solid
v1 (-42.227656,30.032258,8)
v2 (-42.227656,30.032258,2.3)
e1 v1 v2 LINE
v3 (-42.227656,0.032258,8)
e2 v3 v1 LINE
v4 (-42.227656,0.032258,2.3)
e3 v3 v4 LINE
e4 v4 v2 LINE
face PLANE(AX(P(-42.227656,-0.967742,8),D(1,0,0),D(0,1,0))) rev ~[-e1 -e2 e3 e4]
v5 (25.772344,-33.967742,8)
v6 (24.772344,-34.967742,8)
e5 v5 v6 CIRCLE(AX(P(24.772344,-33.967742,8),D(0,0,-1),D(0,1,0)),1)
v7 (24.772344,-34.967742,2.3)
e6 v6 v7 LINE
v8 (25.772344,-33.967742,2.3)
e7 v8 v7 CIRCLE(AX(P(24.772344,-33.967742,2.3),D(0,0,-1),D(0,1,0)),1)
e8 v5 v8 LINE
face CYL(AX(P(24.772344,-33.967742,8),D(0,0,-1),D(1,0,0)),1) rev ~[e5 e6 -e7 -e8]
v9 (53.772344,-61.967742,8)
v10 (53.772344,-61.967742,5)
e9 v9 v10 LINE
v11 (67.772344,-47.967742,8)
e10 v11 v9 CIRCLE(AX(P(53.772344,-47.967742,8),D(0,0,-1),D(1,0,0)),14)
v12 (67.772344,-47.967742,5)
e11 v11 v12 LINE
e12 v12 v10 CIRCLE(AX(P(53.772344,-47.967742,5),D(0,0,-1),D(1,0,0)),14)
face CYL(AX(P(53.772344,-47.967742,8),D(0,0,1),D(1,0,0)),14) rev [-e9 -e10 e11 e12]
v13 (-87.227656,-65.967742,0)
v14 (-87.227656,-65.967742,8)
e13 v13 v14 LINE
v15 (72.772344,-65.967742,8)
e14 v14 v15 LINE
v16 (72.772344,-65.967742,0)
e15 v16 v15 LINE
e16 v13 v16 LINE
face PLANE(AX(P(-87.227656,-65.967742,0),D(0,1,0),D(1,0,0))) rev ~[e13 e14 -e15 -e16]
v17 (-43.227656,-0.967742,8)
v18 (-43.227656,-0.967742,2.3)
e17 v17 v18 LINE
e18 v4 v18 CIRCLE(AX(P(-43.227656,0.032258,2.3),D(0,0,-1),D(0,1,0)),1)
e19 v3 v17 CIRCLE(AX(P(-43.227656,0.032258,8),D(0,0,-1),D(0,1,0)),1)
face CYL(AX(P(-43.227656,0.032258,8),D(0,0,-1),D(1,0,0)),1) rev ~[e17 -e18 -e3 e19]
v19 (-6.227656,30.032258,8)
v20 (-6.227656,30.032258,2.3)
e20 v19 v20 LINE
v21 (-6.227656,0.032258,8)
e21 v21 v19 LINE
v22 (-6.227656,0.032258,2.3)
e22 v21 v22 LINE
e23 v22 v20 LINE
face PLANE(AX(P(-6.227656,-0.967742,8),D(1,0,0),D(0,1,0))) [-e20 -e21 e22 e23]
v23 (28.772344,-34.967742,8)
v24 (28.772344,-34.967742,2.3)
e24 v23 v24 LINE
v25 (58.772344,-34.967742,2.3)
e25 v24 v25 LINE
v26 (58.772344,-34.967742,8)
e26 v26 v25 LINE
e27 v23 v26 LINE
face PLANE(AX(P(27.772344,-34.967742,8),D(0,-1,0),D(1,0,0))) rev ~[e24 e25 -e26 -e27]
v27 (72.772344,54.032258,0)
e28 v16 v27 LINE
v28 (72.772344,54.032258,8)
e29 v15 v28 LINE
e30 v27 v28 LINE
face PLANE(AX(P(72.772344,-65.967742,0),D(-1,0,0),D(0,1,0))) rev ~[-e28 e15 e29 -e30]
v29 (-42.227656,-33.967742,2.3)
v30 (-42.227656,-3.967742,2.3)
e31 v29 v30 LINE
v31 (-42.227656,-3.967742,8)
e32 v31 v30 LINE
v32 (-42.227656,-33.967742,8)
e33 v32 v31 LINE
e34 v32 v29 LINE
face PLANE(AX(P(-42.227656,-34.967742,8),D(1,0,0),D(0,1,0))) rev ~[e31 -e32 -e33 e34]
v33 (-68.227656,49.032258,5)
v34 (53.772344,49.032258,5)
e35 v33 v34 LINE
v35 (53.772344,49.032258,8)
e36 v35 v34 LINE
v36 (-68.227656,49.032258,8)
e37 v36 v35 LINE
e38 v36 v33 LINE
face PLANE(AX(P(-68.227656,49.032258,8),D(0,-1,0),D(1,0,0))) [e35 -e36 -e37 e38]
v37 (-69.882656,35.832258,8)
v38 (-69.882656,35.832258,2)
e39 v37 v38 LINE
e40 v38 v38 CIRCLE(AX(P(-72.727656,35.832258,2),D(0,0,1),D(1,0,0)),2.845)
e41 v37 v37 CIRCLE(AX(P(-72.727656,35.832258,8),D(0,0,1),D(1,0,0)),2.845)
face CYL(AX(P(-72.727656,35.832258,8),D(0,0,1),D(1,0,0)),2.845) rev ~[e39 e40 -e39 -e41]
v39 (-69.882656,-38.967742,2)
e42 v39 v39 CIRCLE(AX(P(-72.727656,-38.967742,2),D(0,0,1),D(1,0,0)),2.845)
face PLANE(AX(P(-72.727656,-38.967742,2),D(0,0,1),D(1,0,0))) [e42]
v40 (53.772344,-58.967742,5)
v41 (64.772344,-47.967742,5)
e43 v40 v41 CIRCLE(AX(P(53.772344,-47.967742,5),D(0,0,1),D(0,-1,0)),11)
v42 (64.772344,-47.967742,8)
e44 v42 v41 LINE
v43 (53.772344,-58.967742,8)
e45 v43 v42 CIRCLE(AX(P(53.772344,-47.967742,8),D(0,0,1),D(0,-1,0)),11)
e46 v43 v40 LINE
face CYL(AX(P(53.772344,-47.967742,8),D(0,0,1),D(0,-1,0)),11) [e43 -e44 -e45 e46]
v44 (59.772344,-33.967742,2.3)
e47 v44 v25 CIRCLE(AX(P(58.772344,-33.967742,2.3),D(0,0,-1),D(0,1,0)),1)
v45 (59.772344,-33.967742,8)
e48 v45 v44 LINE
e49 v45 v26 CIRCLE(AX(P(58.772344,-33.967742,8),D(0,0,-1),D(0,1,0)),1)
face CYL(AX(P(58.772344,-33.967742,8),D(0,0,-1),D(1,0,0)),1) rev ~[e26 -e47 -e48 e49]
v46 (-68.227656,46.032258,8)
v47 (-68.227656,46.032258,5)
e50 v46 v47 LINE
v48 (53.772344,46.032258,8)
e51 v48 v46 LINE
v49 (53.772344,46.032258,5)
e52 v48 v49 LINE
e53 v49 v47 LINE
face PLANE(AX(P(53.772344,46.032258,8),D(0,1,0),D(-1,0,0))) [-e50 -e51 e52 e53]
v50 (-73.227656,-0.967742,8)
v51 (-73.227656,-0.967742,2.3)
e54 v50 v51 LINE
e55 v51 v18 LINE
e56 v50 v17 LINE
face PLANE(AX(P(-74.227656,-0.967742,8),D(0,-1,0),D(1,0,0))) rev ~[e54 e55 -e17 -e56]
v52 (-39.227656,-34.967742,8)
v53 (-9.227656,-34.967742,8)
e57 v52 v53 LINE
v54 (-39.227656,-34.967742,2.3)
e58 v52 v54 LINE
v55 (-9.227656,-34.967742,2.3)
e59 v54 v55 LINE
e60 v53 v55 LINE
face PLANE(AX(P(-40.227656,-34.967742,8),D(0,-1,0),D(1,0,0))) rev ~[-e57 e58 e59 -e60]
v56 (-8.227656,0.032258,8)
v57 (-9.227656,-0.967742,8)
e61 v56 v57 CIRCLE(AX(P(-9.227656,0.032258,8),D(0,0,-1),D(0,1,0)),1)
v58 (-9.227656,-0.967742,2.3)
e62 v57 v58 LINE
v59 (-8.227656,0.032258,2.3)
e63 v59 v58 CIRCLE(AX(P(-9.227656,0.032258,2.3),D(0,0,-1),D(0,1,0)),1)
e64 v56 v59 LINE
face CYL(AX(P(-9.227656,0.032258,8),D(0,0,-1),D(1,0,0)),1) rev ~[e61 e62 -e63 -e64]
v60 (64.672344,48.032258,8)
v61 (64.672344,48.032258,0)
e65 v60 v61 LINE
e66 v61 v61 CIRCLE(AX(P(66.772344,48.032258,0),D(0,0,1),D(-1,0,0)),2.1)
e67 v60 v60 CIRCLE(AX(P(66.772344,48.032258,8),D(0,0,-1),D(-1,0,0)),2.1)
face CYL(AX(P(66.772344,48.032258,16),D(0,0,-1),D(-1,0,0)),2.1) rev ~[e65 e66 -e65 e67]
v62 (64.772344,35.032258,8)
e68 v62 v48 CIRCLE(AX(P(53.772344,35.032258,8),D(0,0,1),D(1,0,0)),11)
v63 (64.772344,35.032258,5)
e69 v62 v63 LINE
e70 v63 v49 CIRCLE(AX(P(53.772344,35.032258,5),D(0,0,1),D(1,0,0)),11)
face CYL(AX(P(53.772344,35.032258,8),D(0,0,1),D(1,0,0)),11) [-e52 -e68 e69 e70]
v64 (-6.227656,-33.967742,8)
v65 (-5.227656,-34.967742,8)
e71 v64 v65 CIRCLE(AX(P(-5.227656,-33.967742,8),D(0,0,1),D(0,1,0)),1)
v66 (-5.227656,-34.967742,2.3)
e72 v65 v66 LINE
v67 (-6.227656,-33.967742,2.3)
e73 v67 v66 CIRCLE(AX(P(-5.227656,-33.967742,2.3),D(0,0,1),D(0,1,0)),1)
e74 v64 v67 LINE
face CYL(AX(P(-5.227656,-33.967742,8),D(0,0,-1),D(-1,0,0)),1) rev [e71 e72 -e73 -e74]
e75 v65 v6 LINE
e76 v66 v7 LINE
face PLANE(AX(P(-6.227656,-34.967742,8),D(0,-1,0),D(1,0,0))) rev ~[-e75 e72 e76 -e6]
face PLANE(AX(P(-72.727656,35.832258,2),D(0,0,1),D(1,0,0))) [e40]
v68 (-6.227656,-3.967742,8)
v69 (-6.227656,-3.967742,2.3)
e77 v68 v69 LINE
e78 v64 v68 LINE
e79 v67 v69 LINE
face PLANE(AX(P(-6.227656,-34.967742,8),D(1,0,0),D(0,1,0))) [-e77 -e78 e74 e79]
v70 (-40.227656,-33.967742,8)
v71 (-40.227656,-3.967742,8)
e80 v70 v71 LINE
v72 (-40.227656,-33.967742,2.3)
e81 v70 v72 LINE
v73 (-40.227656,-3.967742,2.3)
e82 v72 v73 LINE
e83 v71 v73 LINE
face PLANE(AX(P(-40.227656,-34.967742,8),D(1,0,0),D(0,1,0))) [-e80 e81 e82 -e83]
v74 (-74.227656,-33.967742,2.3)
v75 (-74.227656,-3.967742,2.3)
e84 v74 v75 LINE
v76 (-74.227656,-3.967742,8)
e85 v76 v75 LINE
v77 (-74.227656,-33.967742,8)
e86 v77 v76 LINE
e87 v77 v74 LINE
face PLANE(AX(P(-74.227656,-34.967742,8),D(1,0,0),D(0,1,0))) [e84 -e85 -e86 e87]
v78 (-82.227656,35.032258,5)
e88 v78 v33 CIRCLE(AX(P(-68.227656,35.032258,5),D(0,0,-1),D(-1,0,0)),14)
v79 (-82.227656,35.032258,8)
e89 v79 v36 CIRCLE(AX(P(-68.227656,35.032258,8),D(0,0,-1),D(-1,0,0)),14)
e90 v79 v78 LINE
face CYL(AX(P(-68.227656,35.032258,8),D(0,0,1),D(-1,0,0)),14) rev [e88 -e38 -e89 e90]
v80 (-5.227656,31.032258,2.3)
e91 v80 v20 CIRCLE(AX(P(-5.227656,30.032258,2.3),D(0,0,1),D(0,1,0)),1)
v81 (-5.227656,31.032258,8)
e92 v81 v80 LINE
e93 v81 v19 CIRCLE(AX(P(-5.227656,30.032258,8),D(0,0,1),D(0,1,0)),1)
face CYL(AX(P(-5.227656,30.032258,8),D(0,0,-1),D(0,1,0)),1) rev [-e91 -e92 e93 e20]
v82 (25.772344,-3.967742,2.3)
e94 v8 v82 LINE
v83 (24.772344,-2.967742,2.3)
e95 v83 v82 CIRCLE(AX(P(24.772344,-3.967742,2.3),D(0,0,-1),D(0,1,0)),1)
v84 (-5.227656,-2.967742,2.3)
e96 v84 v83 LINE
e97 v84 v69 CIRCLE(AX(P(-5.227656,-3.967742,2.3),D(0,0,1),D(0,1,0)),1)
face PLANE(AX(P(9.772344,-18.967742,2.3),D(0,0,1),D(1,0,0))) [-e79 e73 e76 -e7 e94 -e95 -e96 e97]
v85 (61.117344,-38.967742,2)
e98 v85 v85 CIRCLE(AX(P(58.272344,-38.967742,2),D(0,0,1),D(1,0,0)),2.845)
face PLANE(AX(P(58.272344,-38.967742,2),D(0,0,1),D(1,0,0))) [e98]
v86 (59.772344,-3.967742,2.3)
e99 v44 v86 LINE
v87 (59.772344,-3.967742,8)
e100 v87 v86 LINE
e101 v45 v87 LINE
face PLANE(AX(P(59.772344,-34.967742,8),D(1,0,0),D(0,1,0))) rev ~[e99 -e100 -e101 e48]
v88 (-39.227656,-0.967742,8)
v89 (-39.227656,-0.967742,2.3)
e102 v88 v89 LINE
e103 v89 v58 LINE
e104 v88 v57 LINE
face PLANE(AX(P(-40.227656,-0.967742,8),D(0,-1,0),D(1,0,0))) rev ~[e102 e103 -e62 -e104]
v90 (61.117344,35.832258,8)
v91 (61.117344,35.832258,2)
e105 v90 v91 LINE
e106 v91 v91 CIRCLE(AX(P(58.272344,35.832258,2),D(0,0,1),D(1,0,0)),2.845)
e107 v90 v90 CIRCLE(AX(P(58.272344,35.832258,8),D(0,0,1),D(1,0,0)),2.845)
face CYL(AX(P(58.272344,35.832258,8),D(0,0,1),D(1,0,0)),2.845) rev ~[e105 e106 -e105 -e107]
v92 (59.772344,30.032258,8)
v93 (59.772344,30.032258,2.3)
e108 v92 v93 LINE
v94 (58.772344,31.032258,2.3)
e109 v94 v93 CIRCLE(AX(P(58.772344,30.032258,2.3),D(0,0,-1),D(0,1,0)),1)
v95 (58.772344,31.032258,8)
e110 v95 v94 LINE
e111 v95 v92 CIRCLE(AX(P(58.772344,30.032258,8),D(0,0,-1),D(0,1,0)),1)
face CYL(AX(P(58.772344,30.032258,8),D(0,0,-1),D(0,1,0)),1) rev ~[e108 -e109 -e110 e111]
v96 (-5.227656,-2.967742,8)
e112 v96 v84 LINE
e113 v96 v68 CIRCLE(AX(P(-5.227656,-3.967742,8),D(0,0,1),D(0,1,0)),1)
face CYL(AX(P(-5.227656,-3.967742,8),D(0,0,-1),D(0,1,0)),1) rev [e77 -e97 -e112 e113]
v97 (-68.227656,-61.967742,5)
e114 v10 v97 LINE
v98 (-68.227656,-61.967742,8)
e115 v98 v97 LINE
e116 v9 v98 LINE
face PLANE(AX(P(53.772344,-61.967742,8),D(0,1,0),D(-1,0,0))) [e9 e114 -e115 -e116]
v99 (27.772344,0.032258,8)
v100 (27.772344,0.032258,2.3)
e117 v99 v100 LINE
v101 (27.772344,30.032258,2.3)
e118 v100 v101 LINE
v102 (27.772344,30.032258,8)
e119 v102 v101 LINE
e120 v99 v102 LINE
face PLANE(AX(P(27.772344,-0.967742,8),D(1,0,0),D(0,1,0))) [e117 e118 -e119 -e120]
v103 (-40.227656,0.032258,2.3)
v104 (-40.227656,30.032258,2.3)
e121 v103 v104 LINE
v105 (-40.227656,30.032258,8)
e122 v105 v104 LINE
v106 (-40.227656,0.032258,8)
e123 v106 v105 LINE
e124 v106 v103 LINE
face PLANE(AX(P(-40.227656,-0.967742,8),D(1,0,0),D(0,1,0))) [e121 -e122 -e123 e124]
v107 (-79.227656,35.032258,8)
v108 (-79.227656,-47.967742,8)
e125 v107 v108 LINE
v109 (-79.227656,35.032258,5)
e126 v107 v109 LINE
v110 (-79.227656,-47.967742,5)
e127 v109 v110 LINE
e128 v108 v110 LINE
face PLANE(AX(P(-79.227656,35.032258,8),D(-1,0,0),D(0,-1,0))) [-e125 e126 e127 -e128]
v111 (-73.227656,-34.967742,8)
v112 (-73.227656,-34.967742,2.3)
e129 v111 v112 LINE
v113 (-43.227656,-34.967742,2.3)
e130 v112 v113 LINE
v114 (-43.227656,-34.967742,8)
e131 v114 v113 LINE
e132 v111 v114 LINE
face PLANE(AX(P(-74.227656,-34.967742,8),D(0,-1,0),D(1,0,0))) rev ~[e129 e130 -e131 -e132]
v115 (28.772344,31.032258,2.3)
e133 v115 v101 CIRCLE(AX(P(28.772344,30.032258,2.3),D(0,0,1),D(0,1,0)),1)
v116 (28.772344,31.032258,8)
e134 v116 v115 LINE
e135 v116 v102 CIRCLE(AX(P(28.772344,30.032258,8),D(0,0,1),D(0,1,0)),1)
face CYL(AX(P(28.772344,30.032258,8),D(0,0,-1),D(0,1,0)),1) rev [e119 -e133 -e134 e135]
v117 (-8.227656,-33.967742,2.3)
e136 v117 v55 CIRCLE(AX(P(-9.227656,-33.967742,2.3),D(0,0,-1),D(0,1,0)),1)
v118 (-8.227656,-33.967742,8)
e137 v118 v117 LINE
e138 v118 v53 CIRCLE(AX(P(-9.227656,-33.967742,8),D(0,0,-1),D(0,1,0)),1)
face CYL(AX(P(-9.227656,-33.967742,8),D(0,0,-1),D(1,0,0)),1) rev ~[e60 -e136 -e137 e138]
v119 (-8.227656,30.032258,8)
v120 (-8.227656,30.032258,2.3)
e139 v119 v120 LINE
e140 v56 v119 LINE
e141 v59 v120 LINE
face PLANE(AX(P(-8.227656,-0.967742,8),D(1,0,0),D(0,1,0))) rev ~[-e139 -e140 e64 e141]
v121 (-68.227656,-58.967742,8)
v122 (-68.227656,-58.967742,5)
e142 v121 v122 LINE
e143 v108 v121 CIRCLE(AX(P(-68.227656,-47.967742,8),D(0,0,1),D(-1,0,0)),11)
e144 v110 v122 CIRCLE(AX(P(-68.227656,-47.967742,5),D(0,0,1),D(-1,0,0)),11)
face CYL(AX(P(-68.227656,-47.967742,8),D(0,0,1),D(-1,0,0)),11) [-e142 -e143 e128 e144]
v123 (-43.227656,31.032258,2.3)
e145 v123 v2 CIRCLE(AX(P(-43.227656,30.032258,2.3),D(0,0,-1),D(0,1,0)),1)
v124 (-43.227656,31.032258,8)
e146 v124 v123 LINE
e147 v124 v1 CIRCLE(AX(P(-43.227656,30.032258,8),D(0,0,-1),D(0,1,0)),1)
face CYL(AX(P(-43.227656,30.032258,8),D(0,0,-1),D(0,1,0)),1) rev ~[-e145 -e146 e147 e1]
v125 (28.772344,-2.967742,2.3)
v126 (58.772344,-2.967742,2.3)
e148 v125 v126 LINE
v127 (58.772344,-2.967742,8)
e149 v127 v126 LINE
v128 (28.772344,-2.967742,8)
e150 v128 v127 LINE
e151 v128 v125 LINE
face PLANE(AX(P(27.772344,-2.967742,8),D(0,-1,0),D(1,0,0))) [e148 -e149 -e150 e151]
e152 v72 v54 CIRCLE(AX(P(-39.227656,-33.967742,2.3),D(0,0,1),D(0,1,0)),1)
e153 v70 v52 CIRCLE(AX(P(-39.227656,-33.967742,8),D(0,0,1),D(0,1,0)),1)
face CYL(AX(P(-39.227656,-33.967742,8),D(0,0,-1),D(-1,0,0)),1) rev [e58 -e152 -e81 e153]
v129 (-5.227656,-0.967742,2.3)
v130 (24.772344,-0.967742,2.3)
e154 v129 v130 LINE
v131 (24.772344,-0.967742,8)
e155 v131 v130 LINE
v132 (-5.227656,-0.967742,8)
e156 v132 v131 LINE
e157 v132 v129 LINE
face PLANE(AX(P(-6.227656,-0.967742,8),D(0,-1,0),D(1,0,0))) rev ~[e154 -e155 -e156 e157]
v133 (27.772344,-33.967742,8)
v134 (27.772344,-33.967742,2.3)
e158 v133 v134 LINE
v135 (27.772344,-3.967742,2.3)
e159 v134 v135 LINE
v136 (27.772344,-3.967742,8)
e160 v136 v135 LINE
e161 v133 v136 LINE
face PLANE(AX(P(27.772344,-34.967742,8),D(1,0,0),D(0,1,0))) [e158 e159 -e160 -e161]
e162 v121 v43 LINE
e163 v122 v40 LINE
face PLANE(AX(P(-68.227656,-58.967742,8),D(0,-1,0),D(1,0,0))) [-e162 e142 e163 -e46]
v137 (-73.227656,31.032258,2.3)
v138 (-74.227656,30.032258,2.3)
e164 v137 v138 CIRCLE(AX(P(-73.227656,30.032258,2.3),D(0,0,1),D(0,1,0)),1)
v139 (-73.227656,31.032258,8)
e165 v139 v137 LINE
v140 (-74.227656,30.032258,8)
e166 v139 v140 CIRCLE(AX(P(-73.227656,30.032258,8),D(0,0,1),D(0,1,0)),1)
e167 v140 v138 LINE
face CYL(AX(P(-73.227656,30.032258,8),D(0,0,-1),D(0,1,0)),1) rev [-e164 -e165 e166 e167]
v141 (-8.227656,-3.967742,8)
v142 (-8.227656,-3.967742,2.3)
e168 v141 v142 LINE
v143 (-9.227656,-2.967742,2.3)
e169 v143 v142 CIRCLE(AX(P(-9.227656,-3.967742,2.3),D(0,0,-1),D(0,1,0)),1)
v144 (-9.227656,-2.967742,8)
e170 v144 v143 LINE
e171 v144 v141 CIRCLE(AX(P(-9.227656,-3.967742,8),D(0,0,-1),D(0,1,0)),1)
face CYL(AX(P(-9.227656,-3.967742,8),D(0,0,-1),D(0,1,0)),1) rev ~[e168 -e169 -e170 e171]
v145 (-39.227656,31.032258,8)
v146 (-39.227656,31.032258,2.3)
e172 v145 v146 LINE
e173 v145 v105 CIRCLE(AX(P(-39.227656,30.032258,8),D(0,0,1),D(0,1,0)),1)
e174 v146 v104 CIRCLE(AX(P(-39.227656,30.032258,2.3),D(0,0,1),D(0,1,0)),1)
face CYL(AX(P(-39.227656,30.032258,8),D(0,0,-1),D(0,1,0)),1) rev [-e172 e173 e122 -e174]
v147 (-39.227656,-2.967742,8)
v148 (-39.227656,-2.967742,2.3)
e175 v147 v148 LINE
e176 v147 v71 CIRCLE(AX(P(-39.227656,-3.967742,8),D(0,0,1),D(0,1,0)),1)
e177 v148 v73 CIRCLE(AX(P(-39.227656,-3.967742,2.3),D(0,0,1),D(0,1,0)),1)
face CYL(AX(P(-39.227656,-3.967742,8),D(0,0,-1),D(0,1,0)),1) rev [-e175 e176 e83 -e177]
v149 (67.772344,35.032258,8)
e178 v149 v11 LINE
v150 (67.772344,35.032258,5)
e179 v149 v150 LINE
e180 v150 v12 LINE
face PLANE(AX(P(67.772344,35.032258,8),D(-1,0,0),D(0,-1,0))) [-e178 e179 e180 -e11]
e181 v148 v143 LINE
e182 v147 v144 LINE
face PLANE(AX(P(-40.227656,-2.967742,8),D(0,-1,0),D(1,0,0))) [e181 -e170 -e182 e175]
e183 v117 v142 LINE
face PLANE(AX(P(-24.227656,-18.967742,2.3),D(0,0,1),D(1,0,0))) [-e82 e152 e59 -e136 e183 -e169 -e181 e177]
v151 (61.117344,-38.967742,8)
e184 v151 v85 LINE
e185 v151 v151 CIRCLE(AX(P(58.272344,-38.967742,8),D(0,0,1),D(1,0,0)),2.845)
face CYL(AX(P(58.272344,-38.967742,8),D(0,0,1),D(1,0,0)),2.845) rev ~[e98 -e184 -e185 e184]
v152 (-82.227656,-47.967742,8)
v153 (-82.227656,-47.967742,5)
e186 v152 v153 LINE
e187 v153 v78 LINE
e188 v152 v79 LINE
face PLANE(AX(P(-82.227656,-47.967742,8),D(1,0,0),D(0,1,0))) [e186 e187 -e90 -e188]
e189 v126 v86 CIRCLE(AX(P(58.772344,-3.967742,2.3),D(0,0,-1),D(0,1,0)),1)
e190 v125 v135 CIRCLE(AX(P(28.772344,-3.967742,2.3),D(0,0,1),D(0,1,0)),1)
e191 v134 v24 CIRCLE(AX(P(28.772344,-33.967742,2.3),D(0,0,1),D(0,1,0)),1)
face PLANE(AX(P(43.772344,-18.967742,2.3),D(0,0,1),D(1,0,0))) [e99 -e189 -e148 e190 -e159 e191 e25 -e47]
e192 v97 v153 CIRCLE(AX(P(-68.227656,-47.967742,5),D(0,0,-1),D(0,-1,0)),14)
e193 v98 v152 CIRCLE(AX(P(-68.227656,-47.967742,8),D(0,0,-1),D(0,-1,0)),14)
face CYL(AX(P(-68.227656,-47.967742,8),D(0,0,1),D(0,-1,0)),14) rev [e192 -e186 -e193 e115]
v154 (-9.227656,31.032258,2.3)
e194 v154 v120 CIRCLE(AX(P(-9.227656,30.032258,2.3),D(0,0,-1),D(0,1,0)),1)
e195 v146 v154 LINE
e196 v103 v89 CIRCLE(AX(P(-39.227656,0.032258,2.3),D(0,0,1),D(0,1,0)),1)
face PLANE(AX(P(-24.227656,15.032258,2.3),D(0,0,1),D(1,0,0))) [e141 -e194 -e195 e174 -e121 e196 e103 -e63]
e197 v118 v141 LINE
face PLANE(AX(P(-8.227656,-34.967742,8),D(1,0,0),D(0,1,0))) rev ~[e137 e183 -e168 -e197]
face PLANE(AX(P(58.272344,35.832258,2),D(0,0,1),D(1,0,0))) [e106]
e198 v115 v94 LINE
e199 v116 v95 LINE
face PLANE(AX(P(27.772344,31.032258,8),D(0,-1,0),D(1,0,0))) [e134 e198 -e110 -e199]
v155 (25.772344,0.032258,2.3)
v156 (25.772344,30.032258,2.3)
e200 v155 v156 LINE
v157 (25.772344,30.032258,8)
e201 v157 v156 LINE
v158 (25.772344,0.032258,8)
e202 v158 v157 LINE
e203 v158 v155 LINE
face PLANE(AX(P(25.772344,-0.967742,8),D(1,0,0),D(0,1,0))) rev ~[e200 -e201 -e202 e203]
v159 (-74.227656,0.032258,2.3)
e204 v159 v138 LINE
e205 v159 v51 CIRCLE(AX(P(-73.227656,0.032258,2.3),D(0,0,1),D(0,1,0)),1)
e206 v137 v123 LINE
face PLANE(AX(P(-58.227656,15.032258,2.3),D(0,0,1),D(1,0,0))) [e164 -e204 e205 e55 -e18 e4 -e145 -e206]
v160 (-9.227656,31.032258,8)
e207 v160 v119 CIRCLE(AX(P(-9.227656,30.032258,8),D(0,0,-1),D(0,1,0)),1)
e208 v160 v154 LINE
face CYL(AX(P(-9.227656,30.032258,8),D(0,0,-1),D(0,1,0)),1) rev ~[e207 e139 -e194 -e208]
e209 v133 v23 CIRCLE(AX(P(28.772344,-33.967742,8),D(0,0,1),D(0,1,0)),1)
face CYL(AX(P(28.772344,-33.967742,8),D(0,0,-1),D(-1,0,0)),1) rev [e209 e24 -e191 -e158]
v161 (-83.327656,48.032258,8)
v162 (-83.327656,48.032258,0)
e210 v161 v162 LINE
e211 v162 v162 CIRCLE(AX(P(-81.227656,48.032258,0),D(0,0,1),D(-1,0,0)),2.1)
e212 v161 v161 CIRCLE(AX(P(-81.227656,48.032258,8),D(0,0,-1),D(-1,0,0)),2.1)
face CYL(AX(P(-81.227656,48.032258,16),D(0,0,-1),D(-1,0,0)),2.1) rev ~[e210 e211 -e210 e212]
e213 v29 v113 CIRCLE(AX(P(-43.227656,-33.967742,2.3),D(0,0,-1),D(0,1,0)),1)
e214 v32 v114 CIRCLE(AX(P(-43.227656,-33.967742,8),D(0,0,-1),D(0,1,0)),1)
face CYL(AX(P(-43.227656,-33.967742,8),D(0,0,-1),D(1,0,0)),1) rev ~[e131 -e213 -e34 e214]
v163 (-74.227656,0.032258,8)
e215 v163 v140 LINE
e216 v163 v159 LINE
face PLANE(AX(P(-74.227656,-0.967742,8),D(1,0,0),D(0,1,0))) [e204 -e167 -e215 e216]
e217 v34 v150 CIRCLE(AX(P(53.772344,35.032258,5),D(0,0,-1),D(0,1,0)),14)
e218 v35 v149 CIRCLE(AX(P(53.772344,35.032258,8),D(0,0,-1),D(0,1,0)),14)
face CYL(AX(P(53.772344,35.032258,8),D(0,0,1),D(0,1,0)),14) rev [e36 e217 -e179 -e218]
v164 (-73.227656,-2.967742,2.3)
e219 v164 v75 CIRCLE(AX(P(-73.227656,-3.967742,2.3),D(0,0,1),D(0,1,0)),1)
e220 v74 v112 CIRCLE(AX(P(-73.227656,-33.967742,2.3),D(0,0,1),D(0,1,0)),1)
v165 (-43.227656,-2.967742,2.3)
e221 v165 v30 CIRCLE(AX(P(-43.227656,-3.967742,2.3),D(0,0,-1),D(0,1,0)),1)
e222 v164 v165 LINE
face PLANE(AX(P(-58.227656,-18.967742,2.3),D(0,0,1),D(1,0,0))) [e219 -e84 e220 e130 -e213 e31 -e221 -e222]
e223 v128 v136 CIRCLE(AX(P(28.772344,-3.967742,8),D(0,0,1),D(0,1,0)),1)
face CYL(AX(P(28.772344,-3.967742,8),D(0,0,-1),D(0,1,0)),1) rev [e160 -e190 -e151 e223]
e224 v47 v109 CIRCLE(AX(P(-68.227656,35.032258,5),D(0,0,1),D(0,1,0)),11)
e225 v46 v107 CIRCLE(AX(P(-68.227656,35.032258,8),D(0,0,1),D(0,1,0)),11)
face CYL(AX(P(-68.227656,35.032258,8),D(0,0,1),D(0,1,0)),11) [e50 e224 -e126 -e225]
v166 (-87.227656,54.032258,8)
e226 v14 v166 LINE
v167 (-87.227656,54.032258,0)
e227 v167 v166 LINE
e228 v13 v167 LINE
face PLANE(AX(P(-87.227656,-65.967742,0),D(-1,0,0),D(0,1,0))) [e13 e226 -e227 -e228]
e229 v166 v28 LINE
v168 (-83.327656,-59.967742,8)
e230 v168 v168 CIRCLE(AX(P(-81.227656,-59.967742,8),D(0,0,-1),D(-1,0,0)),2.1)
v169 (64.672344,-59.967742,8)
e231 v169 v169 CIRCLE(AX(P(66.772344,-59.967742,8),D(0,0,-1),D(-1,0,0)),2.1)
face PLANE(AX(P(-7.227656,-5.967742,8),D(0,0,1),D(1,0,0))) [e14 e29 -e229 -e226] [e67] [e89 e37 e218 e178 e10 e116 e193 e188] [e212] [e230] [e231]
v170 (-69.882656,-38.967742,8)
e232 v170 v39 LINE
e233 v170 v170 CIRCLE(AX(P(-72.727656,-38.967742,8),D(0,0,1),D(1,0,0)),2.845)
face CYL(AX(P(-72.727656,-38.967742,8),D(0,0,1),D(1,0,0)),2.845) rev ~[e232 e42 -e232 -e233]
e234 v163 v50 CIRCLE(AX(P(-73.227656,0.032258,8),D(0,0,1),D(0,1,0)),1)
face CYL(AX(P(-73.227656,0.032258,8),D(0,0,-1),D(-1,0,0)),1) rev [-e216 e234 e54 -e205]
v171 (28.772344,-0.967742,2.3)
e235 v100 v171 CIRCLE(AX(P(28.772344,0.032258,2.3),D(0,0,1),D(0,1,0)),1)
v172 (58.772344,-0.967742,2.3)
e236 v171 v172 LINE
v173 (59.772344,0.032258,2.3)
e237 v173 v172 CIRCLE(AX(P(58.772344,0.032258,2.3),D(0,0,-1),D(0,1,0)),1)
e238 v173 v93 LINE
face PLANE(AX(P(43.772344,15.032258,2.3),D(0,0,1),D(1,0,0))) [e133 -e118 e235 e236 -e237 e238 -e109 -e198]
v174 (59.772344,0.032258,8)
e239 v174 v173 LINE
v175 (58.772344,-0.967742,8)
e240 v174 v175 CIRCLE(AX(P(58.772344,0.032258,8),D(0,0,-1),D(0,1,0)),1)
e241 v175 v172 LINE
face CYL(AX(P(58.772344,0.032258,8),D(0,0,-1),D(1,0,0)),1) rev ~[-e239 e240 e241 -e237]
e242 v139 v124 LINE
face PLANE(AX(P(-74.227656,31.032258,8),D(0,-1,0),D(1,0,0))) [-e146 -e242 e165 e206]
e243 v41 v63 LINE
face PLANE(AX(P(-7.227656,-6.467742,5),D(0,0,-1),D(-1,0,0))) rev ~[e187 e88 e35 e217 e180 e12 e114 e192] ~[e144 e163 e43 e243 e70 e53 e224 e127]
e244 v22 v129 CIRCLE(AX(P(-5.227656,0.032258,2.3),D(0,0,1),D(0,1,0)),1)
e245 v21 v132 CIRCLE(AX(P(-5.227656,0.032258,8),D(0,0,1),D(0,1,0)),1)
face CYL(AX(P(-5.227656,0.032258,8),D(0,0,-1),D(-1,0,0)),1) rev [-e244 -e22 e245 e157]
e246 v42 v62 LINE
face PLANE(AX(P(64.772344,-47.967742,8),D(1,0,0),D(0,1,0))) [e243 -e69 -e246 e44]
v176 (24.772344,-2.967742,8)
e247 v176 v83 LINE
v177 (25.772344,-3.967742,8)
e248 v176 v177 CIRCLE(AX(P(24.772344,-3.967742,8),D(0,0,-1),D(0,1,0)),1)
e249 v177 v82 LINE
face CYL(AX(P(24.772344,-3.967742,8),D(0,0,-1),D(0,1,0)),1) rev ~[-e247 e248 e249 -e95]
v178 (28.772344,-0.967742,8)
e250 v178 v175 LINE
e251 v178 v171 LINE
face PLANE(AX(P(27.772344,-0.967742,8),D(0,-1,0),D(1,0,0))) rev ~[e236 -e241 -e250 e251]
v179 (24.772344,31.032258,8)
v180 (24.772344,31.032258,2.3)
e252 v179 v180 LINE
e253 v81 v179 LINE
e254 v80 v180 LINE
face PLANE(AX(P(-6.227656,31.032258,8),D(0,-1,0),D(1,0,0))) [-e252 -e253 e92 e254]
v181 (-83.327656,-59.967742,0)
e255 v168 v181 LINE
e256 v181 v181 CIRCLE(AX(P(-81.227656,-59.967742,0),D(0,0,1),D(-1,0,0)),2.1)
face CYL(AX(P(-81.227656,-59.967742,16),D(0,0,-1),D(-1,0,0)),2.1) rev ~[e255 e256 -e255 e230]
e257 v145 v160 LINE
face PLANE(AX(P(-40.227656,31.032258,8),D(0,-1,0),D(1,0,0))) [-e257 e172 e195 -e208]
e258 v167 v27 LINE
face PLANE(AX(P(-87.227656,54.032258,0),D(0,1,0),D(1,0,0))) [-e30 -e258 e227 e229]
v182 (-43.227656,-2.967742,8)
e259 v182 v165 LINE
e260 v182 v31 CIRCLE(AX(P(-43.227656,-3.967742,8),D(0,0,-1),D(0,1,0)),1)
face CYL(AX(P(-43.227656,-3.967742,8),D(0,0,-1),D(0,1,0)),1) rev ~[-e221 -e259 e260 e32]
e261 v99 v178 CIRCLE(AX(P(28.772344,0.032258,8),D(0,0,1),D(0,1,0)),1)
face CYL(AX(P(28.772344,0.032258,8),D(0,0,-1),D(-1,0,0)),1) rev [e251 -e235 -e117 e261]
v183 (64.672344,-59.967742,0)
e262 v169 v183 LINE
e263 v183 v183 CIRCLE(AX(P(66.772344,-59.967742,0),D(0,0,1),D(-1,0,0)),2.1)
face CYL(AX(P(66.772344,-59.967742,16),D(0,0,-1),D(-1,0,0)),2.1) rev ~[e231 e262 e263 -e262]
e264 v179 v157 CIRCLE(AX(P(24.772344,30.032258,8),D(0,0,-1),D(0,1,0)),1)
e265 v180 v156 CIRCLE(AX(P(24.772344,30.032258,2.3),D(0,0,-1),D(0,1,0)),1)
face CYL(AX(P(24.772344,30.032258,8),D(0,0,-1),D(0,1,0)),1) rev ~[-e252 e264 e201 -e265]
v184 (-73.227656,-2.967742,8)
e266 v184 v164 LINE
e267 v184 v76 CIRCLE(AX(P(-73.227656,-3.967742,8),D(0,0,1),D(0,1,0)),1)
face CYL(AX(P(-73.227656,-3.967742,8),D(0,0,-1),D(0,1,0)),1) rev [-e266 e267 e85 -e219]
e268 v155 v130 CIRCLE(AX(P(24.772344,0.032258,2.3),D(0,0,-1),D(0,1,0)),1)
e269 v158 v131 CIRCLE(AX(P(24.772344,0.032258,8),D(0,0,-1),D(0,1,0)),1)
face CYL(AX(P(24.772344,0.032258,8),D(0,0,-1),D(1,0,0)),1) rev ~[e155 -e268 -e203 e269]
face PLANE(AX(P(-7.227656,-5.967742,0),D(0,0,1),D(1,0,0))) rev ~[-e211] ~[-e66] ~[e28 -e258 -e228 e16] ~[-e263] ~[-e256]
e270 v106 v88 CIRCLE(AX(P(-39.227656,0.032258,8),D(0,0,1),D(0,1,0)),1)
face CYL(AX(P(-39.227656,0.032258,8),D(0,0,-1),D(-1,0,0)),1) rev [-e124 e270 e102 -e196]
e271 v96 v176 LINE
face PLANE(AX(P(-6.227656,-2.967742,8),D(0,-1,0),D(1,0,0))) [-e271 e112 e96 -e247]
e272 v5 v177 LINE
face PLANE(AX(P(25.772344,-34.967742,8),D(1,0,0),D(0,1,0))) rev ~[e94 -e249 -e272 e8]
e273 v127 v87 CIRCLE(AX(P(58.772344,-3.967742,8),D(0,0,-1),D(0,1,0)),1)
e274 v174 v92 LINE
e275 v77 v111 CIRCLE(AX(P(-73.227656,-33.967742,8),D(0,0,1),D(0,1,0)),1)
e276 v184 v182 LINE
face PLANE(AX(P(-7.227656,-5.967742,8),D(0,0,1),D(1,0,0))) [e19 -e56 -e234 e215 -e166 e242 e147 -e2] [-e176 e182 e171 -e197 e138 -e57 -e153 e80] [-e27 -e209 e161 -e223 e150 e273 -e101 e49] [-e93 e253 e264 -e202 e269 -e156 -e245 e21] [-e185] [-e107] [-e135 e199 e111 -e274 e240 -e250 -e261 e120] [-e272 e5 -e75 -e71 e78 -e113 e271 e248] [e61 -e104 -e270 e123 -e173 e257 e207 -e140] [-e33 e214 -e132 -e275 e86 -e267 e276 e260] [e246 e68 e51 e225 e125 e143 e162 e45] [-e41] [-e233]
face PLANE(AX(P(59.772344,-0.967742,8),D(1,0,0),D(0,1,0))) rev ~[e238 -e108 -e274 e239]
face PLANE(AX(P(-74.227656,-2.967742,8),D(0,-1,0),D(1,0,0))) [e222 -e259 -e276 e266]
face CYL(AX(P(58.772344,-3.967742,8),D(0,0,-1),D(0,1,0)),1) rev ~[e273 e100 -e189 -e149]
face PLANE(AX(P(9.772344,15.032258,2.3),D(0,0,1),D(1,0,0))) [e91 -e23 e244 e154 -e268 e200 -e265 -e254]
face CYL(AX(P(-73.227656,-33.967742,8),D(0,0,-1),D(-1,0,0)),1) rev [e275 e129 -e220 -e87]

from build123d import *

# Parameters (mm, degrees)
ESQUISSE1_W                                   = 160
ESQUISSE1_H                                   = 120
BOSS_EXTRU_1_DEPTH                            = 8
ESQUISSE2_W                                   = 32
ESQUISSE2_H                                   = 32
ENL_V_MAT_EXTRU_1_DEPTH                       = 5.7
ENL_V_MAT_EXTRU_2_DEPTH                       = 3
TROU_POUR_TARAUDAGE_POUR_TROU_TARAUD_M5_D     = 4.2
TROU_POUR_TARAUDAGE_POUR_TROU_TARAUD_M5_DEPTH = 8
TROU_POUR_TARAUDAGE_POUR_TROU_TARAUD_M5_TIP   = 1.2618073
CONG_1_R                                      = 1
ESQUISSE7_R                                   = 2.845
ENL_V_MAT_EXTRU_3_DEPTH                       = 6


with BuildPart() as part:
    # Esquisse1 → Boss.-Extru.1 (new body)
    with BuildSketch(Plane.XY):
        with Locations((-7.227655867, -5.967741935)):
            Rectangle(ESQUISSE1_W, ESQUISSE1_H)
    extrude(amount=BOSS_EXTRU_1_DEPTH)

    # Esquisse2 → Enlèv. mat.-Extru.1 (cut)
    with BuildSketch(Plane.XY.offset(8)):
        with Locations((-24.227655867, 15.032258065)):
            Rectangle(ESQUISSE2_W, ESQUISSE2_H)
        with Locations((-58.227655867, 15.032258065)):
            Rectangle(ESQUISSE2_W, ESQUISSE2_H)
        with Locations((9.772344133, 15.032258065)):
            Rectangle(ESQUISSE2_W, ESQUISSE2_H)
        with Locations((43.772344133, 15.032258065)):
            Rectangle(ESQUISSE2_W, ESQUISSE2_H)
        with Locations((-24.227655867, -18.967741935)):
            Rectangle(ESQUISSE2_W, ESQUISSE2_H)
        with Locations((9.772344133, -18.967741935)):
            Rectangle(ESQUISSE2_W, ESQUISSE2_H)
        with Locations((43.772344133, -18.967741935)):
            Rectangle(ESQUISSE2_W, ESQUISSE2_H)
        with Locations((-58.227655867, -18.967741935)):
            Rectangle(ESQUISSE2_W, ESQUISSE2_H)
    extrude(amount=-ENL_V_MAT_EXTRU_1_DEPTH, mode=Mode.SUBTRACT)

    # Esquisse3 → Enlèv. mat.-Extru.2 (cut)
    with BuildSketch(Plane.XY.offset(8)):
        with BuildLine():
            Line((-68.227655867, 49.032258065), (53.772344133, 49.032258065))
            ThreePointArc((53.772344133, 49.032258065), (63.67183907, 44.931753001), (67.772344133, 35.032258065))
            Line((67.772344133, 35.032258065), (67.772344133, -47.967741935))
            ThreePointArc((67.772344133, -47.967741935), (63.67183907, -57.867236872), (53.772344133, -61.967741935))
            Line((53.772344133, -61.967741935), (-68.227655867, -61.967741935))
            ThreePointArc((-68.227655867, -61.967741935), (-78.127150803, -57.867236872), (-82.227655867, -47.967741935))
            Line((-82.227655867, -47.967741935), (-82.227655867, 35.032258065))
            ThreePointArc((-82.227655867, 35.032258065), (-78.127150803, 44.931753001), (-68.227655867, 49.032258065))
        make_face()
        with BuildLine():
            Line((-79.227655867, 35.032258065), (-79.227655867, -47.967741935))
            ThreePointArc((-79.227655867, -47.967741935), (-76.00583046, -55.745916529), (-68.227655867, -58.967741935))
            Line((-68.227655867, -58.967741935), (53.772344133, -58.967741935))
            ThreePointArc((53.772344133, -58.967741935), (61.550518726, -55.745916529), (64.772344133, -47.967741935))
            Line((64.772344133, -47.967741935), (64.772344133, 35.032258065))
            ThreePointArc((64.772344133, 35.032258065), (61.550518726, 42.810432658), (53.772344133, 46.032258065))
            Line((53.772344133, 46.032258065), (-68.227655867, 46.032258065))
            ThreePointArc((-68.227655867, 46.032258065), (-76.00583046, 42.810432658), (-79.227655867, 35.032258065))
        make_face(mode=Mode.SUBTRACT)
    extrude(amount=-ENL_V_MAT_EXTRU_2_DEPTH, mode=Mode.SUBTRACT)

    # Trou pour taraudage pour trou taraudé M51
    with Locations(Plane.XY.offset(8)):
        with Locations((-81.227655867, -59.967741935), (-81.227655867, 48.032258065), (66.772344133, 48.032258065), (66.772344133, -59.967741935)):
            Hole(TROU_POUR_TARAUDAGE_POUR_TROU_TARAUD_M5_D / 2, depth=TROU_POUR_TARAUDAGE_POUR_TROU_TARAUD_M5_DEPTH)
            with Locations((0, 0, -(TROU_POUR_TARAUDAGE_POUR_TROU_TARAUD_M5_DEPTH + TROU_POUR_TARAUDAGE_POUR_TROU_TARAUD_M5_TIP / 2))):  # 118° drill point
                Cone(0, TROU_POUR_TARAUDAGE_POUR_TROU_TARAUD_M5_D / 2, TROU_POUR_TARAUDAGE_POUR_TROU_TARAUD_M5_TIP, mode=Mode.SUBTRACT)

    # Congé1
    cong_1_edges = [part.edges().sort_by_distance(p)[0] for p in [
        (-74.227655867, -0.967741935, 5.15),
        (-74.227655867, 31.032258065, 5.15),
        (-42.227655867, 31.032258065, 5.15),
        (-42.227655867, -0.967741935, 5.15),
        (-40.227655867, -0.967741935, 5.15),
        (-40.227655867, 31.032258065, 5.15),
        (-8.227655867, 31.032258065, 5.15),
        (-8.227655867, -0.967741935, 5.15),
        (-6.227655867, -0.967741935, 5.15),
        (-6.227655867, 31.032258065, 5.15),
        (25.772344133, 31.032258065, 5.15),
        (25.772344133, -0.967741935, 5.15),
        (27.772344133, -0.967741935, 5.15),
        (27.772344133, 31.032258065, 5.15),
        (59.772344133, 31.032258065, 5.15),
        (59.772344133, -0.967741935, 5.15),
        (-74.227655867, -34.967741935, 5.15),
        (-74.227655867, -2.967741935, 5.15),
        (-42.227655867, -2.967741935, 5.15),
        (-42.227655867, -34.967741935, 5.15),
        (27.772344133, -34.967741935, 5.15),
        (27.772344133, -2.967741935, 5.15),
        (59.772344133, -2.967741935, 5.15),
        (59.772344133, -34.967741935, 5.15),
        (-6.227655867, -34.967741935, 5.15),
        (-6.227655867, -2.967741935, 5.15),
        (25.772344133, -2.967741935, 5.15),
        (25.772344133, -34.967741935, 5.15),
        (-40.227655867, -34.967741935, 5.15),
        (-40.227655867, -2.967741935, 5.15),
        (-8.227655867, -2.967741935, 5.15),
        (-8.227655867, -34.967741935, 5.15),
    ]]
    fillet(cong_1_edges, radius=CONG_1_R)

    # Esquisse7 → Enlèv. mat.-Extru.3 (cut)
    with BuildSketch(Plane.XY.offset(8)):
        with Locations((-72.727655867, 35.832258065)):
            Circle(ESQUISSE7_R)
        with Locations((-72.727655867, -38.967741935)):
            Circle(ESQUISSE7_R)
        with Locations((58.272344133, -38.967741935)):
            Circle(ESQUISSE7_R)
        with Locations((58.272344133, 35.832258065)):
            Circle(ESQUISSE7_R)
    extrude(amount=-ENL_V_MAT_EXTRU_3_DEPTH, mode=Mode.SUBTRACT)


solid = part.part
